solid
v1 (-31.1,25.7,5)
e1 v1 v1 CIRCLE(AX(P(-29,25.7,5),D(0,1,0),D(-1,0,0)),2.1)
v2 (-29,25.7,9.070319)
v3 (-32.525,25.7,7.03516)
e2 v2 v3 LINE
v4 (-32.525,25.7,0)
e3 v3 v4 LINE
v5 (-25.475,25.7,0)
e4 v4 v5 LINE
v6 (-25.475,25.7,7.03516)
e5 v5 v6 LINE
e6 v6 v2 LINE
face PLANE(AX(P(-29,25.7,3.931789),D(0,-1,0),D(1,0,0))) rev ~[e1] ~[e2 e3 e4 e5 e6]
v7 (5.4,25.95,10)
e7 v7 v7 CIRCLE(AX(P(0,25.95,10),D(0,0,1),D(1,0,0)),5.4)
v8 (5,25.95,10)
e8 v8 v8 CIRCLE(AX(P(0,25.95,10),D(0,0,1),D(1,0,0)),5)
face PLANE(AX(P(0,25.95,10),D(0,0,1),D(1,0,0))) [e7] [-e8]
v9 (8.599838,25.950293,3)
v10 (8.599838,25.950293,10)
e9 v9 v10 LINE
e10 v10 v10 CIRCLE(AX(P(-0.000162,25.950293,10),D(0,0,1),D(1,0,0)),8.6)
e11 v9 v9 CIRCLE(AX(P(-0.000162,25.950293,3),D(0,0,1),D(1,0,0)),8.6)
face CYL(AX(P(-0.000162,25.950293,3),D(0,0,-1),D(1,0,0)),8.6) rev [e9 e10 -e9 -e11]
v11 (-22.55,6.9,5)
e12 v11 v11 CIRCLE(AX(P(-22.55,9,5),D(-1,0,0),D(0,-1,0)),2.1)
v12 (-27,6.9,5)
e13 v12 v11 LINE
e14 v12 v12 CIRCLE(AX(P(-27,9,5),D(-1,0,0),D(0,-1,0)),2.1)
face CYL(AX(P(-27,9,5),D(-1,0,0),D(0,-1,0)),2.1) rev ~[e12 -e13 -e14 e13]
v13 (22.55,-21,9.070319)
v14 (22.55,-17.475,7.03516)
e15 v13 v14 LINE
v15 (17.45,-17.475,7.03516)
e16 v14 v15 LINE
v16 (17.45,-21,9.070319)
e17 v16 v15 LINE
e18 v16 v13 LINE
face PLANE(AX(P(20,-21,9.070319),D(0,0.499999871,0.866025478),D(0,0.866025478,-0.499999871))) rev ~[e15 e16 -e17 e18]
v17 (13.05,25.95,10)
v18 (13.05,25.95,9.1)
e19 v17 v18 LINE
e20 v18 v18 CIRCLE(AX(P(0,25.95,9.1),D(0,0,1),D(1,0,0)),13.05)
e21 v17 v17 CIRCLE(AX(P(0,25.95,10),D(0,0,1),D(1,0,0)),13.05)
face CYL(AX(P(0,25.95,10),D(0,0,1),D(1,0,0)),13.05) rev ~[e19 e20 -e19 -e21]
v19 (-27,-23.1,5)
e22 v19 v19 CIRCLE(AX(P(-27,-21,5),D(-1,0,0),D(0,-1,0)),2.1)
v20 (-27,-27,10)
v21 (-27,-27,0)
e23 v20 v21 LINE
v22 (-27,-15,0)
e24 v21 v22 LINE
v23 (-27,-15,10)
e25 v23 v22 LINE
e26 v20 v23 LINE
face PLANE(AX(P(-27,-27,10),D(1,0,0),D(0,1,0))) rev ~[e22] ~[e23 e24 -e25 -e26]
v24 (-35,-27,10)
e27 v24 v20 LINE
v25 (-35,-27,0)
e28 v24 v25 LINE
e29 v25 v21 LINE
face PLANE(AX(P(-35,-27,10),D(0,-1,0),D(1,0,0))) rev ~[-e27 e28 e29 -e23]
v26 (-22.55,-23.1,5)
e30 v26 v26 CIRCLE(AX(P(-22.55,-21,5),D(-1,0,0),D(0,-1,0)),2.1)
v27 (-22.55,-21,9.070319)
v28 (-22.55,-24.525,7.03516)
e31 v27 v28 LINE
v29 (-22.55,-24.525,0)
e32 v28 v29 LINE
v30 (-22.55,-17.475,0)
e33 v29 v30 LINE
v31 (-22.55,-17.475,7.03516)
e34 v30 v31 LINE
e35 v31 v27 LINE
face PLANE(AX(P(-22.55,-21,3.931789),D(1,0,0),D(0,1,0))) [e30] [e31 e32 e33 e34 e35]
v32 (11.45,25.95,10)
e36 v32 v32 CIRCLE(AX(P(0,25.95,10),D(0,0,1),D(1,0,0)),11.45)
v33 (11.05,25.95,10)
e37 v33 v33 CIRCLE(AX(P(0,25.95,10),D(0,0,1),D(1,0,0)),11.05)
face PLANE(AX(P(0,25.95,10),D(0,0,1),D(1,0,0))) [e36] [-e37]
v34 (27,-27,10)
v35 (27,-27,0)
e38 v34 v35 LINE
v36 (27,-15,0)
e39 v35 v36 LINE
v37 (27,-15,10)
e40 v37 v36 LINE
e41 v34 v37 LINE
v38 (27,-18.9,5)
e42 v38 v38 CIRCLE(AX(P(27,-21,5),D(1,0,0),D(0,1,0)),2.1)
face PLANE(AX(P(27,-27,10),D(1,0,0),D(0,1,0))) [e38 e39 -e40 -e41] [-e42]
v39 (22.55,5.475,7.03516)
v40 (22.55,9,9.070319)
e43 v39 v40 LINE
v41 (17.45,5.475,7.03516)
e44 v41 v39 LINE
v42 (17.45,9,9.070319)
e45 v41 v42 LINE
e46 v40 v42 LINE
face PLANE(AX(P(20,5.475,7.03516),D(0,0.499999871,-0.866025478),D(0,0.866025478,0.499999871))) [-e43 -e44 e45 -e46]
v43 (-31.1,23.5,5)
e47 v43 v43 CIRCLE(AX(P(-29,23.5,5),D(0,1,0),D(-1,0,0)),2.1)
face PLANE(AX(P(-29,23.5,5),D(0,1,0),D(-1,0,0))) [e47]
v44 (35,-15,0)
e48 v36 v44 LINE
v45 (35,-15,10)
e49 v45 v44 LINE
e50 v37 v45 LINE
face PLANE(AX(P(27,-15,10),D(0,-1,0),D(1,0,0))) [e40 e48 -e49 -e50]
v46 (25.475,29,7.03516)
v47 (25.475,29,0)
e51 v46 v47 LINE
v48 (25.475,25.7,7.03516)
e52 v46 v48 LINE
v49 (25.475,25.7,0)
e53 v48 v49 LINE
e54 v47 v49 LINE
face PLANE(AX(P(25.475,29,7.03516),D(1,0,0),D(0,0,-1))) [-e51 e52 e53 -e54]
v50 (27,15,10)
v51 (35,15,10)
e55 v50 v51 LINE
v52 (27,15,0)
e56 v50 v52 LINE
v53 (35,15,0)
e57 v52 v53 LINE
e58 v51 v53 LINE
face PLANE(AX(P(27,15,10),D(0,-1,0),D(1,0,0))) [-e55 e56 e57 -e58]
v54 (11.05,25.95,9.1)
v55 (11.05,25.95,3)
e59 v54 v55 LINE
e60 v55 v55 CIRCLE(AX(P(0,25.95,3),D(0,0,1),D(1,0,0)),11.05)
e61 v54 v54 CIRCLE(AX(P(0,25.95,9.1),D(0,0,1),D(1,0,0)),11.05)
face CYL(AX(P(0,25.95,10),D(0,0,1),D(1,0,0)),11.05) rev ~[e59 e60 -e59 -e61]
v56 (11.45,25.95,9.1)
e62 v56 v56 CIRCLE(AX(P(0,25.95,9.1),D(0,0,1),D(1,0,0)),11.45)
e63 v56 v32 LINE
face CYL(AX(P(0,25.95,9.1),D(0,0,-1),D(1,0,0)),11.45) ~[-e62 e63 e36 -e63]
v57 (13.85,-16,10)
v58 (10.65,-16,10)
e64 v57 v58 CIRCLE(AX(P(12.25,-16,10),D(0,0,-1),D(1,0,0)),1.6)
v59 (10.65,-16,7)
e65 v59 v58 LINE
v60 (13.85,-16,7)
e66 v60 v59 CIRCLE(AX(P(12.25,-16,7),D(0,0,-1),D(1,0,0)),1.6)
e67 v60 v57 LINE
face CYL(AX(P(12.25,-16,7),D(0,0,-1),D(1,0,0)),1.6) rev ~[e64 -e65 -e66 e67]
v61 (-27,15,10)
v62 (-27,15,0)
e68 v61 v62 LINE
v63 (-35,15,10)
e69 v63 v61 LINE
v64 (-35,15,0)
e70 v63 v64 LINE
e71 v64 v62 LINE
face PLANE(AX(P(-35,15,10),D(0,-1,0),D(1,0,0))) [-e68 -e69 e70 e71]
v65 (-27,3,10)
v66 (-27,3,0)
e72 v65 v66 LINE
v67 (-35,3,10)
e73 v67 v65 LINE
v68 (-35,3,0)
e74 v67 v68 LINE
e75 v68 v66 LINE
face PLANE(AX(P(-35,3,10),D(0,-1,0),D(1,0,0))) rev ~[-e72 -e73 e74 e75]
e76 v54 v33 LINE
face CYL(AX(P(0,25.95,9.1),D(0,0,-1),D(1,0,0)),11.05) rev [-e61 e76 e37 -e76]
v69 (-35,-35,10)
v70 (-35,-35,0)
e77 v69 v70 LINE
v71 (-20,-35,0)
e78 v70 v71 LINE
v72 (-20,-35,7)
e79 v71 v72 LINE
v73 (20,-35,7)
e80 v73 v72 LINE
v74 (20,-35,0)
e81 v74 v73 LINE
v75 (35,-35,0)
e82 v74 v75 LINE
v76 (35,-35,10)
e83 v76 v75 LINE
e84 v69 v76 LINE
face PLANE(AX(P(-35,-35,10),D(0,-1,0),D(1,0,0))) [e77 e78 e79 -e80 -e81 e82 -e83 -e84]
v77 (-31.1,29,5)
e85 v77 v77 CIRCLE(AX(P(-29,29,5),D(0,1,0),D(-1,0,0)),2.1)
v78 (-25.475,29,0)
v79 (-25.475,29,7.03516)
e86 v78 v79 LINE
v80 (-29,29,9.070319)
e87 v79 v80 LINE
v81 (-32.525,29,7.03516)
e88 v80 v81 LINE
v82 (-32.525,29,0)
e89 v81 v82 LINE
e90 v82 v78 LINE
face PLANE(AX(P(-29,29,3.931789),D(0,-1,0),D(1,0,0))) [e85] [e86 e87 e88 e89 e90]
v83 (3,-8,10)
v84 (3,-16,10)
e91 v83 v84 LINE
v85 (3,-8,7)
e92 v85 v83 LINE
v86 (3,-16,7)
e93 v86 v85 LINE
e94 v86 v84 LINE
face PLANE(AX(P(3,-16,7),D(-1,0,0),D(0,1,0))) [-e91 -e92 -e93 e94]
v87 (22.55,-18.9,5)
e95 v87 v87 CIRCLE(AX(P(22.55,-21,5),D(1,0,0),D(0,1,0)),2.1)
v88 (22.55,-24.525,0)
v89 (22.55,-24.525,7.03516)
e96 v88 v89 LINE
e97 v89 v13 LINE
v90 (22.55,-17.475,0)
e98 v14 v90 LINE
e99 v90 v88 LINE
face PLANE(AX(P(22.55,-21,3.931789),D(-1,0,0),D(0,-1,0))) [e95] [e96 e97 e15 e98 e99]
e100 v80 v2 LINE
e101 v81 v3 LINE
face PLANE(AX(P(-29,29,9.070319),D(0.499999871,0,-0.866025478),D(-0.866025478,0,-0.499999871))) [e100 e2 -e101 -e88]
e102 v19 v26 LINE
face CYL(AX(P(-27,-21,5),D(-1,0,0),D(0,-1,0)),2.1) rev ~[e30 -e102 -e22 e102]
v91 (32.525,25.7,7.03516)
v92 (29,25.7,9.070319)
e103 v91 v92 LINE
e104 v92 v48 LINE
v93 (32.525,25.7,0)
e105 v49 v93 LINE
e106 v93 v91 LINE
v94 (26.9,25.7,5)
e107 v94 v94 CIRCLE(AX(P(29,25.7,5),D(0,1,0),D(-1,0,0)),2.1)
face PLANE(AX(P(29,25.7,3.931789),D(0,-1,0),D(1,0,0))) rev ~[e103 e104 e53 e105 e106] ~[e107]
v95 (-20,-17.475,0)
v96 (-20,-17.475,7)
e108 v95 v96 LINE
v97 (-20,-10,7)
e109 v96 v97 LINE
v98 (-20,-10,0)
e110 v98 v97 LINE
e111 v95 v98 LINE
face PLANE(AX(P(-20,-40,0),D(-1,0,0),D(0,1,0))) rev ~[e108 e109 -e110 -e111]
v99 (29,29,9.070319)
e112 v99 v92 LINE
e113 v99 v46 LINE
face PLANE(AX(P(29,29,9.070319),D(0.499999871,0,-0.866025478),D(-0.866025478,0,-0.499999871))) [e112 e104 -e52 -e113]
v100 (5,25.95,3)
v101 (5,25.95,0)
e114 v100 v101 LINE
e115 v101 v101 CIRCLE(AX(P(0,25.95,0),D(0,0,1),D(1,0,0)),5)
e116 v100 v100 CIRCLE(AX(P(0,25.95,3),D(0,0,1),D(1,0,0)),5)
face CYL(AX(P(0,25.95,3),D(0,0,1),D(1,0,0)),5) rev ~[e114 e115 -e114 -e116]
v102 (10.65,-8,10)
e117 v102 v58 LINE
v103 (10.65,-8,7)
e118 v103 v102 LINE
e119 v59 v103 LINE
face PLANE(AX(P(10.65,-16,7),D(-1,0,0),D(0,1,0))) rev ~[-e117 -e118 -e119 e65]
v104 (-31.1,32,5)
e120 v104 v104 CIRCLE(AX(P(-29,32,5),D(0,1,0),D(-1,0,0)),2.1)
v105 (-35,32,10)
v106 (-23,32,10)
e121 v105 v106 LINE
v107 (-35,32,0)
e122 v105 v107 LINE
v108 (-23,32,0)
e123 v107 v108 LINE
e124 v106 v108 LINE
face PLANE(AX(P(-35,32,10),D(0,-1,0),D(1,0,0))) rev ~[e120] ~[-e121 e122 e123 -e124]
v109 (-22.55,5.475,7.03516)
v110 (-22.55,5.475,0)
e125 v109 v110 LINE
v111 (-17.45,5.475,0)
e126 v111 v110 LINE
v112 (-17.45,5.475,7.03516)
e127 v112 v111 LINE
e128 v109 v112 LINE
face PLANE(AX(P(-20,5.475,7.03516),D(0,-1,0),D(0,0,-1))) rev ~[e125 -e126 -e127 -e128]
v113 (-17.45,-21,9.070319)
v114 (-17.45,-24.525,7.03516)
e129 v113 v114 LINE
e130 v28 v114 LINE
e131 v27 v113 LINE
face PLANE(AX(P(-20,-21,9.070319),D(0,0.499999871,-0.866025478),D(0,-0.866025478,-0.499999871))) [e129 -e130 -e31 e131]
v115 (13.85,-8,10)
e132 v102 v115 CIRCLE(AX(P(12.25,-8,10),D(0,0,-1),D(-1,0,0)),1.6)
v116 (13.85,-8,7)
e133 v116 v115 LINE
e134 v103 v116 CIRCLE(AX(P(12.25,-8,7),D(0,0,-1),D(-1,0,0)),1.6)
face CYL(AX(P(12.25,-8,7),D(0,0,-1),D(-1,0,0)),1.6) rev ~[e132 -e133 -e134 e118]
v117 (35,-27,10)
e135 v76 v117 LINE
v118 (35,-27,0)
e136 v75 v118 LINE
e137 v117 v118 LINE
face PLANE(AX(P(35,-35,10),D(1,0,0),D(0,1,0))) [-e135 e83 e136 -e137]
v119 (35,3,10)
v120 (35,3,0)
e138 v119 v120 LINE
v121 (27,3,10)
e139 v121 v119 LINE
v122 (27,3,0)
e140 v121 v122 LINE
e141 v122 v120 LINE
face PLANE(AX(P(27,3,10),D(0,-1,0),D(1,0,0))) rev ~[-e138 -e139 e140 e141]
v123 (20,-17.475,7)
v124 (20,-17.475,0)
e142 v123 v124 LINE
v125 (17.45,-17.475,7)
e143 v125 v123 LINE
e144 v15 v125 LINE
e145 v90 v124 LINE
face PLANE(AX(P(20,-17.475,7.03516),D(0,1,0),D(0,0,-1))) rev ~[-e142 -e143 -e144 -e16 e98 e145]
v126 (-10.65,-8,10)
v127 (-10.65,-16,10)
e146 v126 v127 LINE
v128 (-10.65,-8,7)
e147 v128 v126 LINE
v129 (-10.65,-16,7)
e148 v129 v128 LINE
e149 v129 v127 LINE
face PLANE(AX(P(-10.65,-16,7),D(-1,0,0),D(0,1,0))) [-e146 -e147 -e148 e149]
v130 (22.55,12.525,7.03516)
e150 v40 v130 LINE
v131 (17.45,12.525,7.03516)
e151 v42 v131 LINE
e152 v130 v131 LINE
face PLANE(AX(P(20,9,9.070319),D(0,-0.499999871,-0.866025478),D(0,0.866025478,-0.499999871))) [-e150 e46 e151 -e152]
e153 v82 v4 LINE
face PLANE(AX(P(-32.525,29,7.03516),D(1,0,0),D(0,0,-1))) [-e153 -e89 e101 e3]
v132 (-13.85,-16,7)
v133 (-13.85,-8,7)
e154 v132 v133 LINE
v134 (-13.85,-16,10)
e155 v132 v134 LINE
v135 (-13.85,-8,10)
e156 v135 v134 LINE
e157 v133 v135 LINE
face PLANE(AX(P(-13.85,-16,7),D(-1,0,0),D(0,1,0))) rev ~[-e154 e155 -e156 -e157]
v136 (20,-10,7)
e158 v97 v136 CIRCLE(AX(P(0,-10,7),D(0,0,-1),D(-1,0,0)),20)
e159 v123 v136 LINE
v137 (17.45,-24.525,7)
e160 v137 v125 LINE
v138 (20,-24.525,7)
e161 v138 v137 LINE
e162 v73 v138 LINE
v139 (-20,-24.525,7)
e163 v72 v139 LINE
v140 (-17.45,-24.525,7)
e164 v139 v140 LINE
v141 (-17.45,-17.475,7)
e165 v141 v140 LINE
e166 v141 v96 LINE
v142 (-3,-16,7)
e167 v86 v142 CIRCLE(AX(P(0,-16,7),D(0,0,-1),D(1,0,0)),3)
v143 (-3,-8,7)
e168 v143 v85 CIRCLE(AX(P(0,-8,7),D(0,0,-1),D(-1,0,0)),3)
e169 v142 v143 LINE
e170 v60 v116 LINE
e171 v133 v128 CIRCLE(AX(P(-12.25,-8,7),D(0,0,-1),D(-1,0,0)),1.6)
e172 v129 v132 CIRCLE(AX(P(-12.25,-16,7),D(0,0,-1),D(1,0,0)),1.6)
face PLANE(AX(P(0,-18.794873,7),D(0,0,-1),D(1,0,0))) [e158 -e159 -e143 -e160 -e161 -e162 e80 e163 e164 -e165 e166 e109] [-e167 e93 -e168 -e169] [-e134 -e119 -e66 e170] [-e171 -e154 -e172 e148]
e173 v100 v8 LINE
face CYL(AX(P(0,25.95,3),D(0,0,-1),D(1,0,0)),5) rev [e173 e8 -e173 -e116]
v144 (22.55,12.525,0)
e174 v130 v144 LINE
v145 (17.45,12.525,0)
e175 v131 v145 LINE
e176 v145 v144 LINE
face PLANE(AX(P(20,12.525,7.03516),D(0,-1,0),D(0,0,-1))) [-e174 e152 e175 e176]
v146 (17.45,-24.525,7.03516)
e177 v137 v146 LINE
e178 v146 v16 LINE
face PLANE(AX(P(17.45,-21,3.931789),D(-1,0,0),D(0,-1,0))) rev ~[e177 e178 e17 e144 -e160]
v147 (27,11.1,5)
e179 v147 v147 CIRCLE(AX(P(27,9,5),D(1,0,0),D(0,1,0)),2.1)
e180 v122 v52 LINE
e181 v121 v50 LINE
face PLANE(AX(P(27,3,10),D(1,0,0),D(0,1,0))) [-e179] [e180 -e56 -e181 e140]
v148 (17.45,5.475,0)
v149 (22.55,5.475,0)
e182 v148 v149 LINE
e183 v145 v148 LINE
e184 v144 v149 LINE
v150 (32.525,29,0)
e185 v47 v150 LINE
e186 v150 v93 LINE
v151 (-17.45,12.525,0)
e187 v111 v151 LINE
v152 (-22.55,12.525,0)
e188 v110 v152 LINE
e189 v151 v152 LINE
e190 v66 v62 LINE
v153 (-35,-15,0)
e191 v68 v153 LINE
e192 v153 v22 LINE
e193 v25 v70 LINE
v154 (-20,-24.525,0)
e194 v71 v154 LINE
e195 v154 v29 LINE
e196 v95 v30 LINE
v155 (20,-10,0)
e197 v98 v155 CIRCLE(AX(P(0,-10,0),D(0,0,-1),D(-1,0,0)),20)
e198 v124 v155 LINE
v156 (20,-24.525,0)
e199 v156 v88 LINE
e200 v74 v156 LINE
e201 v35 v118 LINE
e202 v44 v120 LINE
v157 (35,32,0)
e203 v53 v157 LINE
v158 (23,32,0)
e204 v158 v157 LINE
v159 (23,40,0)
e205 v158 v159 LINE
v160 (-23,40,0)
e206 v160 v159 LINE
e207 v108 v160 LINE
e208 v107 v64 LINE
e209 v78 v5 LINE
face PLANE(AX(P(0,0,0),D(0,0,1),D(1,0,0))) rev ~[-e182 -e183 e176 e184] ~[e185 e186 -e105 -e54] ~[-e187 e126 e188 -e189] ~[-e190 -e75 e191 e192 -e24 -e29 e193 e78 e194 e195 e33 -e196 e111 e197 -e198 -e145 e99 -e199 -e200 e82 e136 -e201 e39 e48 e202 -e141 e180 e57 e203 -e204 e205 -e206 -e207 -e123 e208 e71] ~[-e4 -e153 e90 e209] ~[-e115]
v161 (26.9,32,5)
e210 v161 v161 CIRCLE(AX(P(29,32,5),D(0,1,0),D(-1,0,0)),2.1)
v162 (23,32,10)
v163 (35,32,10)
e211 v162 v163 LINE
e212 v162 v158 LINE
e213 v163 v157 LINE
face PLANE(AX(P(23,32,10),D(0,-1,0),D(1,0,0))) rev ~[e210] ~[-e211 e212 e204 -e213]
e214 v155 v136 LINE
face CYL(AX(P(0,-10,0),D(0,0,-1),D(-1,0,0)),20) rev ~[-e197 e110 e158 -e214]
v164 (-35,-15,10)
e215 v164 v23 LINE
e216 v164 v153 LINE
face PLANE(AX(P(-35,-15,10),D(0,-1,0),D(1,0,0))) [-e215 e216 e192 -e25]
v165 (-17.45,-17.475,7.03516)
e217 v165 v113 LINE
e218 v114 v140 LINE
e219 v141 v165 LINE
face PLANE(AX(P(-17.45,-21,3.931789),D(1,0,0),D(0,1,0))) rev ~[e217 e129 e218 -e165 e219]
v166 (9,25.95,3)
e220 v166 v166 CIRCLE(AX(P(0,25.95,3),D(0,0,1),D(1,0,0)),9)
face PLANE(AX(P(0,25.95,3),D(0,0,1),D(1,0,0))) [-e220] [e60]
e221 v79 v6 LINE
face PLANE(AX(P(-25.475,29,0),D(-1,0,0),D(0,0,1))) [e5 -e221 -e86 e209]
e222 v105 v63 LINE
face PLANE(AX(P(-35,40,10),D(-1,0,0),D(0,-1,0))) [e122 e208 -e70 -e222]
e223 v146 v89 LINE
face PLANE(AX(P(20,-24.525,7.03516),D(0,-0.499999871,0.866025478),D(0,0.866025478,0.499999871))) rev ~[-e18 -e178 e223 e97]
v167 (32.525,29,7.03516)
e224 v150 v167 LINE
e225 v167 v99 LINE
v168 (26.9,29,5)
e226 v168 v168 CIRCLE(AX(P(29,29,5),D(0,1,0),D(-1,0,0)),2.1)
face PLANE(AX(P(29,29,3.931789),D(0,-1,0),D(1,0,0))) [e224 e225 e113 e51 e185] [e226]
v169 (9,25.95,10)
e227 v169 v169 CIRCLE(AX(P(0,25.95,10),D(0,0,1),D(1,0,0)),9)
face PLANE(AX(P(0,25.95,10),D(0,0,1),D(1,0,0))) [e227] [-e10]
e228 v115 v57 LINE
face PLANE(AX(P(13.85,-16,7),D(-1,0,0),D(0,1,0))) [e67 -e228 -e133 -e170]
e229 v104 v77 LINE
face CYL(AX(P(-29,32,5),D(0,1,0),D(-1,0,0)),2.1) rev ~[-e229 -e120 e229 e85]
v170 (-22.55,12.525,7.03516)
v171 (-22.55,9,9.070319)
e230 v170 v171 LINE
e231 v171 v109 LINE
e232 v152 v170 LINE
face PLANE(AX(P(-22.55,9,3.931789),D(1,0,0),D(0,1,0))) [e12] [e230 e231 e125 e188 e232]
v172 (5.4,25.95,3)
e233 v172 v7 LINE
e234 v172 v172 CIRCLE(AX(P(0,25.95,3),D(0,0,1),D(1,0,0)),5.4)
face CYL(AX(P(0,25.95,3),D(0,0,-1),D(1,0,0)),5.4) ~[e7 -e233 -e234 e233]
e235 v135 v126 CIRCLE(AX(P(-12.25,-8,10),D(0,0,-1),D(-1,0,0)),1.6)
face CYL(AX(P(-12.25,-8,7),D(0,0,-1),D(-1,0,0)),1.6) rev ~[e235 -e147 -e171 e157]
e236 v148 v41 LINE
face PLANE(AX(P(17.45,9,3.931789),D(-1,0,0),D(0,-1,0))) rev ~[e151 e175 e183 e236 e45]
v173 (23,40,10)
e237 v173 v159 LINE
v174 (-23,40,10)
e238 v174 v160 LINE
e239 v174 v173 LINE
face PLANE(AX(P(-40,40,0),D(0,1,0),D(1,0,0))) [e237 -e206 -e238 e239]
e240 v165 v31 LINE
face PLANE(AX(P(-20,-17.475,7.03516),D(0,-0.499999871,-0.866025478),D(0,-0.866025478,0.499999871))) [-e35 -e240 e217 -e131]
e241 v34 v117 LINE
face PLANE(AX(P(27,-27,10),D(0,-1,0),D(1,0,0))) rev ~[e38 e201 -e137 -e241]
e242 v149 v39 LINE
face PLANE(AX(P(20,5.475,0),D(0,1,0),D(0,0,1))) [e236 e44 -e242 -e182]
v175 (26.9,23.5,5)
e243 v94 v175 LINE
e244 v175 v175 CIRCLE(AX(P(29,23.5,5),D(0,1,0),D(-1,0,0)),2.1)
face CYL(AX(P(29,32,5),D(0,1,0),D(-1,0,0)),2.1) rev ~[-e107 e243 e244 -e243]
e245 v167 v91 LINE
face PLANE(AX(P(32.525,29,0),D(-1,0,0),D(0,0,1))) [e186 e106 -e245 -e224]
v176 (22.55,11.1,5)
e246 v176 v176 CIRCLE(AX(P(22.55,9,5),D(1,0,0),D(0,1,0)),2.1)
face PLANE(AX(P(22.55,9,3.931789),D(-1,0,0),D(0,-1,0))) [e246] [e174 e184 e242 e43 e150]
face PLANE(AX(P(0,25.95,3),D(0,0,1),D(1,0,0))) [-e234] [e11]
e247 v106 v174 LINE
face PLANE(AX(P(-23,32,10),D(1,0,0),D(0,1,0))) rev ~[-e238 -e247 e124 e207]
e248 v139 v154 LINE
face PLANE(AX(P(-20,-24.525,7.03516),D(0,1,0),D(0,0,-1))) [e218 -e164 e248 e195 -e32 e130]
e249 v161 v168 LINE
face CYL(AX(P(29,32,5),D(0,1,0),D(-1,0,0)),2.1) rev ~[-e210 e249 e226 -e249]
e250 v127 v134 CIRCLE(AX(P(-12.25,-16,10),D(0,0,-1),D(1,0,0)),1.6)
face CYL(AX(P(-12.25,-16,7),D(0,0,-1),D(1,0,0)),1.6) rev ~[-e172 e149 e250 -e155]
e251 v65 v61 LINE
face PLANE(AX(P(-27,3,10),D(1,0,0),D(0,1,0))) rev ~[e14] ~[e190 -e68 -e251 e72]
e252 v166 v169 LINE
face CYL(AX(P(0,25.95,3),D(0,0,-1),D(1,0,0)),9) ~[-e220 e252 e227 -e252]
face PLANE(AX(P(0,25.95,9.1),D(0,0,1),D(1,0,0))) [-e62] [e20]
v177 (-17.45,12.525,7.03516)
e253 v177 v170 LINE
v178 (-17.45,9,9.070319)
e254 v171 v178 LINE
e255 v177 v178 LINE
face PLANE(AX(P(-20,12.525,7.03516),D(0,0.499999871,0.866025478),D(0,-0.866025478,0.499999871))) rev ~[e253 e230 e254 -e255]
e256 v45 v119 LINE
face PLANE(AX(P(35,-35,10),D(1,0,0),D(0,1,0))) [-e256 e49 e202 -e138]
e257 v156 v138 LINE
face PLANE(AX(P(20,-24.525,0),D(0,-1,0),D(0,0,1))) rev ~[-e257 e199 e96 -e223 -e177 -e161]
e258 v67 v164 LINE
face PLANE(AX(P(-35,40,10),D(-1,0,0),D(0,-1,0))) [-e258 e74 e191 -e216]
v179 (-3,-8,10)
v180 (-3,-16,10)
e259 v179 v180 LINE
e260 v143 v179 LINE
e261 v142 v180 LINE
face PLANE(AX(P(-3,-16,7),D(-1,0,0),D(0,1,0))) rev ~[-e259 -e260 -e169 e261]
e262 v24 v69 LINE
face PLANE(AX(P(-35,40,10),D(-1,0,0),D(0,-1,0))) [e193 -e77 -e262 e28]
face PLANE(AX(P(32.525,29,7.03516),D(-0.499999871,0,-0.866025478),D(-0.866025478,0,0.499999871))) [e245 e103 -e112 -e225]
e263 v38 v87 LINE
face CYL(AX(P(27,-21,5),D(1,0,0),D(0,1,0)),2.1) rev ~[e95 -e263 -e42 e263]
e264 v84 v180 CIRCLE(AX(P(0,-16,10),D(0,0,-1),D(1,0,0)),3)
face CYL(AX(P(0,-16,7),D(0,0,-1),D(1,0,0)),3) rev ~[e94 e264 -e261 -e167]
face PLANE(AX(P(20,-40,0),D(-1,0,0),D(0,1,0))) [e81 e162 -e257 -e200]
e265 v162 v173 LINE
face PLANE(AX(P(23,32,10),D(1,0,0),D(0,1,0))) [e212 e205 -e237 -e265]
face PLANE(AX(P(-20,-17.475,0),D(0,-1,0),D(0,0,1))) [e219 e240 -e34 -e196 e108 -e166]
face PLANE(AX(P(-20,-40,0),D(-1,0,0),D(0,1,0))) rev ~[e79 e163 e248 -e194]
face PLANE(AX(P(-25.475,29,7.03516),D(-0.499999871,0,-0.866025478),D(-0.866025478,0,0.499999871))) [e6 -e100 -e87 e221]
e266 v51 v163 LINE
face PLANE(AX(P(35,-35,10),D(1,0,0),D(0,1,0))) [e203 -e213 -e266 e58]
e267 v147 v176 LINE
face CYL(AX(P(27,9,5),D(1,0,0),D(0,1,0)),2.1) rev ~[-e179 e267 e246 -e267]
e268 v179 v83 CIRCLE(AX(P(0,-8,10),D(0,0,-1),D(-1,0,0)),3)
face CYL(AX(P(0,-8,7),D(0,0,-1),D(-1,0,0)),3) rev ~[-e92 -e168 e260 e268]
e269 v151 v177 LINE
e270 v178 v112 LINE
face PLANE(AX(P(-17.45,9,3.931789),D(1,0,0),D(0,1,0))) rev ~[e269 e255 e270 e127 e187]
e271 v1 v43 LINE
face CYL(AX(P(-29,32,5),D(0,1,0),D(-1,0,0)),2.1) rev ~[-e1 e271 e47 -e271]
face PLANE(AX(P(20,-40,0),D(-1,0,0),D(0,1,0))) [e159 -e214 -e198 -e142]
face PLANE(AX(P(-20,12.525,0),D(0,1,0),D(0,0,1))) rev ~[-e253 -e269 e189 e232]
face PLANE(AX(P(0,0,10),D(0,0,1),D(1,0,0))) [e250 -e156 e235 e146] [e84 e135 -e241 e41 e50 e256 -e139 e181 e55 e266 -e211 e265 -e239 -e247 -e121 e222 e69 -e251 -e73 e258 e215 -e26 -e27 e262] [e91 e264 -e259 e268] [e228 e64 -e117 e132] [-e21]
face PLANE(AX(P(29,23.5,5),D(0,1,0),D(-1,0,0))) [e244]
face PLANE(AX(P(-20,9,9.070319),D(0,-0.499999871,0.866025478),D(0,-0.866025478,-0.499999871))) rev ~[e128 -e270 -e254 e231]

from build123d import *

# Parameters (mm, degrees)
PAD001_DEPTH    = 3.3
SKETCH_W        = 80
SKETCH_H        = 80
PAD_DEPTH       = 10
SKETCH001_R     = 11.05
POCKET_DEPTH    = 7
SKETCH002_R     = 5
POCKET001_DEPTH = 3.001
SKETCH003_R     = 13.05
POCKET002_DEPTH = 0.9
POCKET003_DEPTH = 7
POCKET004_DEPTH = 3.001
POCKET005_DEPTH = 10.001
SKETCH009_W     = 8
SKETCH009_H     = 12
SKETCH009_W_2   = 12
SKETCH009_H_2   = 8
POCKET008_DEPTH = 10.001
SKETCH010_R     = 2.1
POCKET009_DEPTH = 9
SKETCH011_R     = 2.1
POCKET010_DEPTH = 9
SKETCH012_R     = 2.1
POCKET011_DEPTH = 8.5
POCKET012_DEPTH = 2.55
POCKET013_DEPTH = 2.55
SKETCH017_R     = 5.4
SKETCH017_R_2   = 5
PAD002_DEPTH    = 7
SKETCH018_R     = 11.45
SKETCH018_R_2   = 11.05
PAD003_DEPTH    = 0.9
SKETCH019_R     = 9
SKETCH019_R_2   = 8.6
PAD004_DEPTH    = 7


with BuildPart() as pad001:
    # Sketch016 → Pad001 (new body)
    with BuildSketch(Plane.XZ.offset(-29)):
        Polygon((-25.475, 7.03516), (-29, 9.070319), (-32.525, 7.03516), (-32.525, 2.96484), (-32.525, 0), (-25.475, 0), align=None)
        Polygon((32.525, 7.03516), (29, 9.070319), (25.475, 7.03516), (25.475, 2.96484), (25.475, 0), (32.525, 0), align=None)
    extrude(amount=PAD001_DEPTH)


with BuildPart() as halter_fraesspindel_top_druckbar:
    # Sketch → Pad (new body)
    with BuildSketch(Plane.XY):
        Rectangle(SKETCH_W, SKETCH_H)
    extrude(amount=PAD_DEPTH)

    # Sketch001 → Pocket (cut)
    with BuildSketch(Plane.XY.offset(10)):
        with Locations((0, 25.95)):
            Circle(SKETCH001_R)
    extrude(amount=-POCKET_DEPTH, mode=Mode.SUBTRACT)

    # Sketch002 → Pocket001 (cut, through all)
    with BuildSketch(Plane.XY.offset(3)):
        with Locations((0, 25.95)):
            Circle(SKETCH002_R)
    extrude(amount=-POCKET001_DEPTH, mode=Mode.SUBTRACT)

    # Sketch003 → Pocket002 (cut)
    with BuildSketch(Plane.XY.offset(10)):
        with Locations((0, 25.95)):
            Circle(SKETCH003_R)
    extrude(amount=-POCKET002_DEPTH, mode=Mode.SUBTRACT)

    # Sketch004 → Pocket003 (cut)
    with BuildSketch(Plane(origin=(0, 0, 0), x_dir=(1, 0, 0), z_dir=(0, 0, -1))):
        with BuildLine():
            ThreePointArc((-20, 10), (0, -10), (20, 10))
            Line((20, 40), (20, 10))
            Line((20, 40), (-20, 40))
            Line((-20, 40), (-20, 10))
        make_face()
    extrude(amount=-POCKET003_DEPTH, mode=Mode.SUBTRACT)

    # Sketch005 → Pocket004 (cut, through all)
    with BuildSketch(Plane(origin=(0, 0, 7), x_dir=(1, 0, 0), z_dir=(0, 0, -1))):
        with BuildLine():
            ThreePointArc((3, 16), (0, 19), (-3, 16))
            Line((-3, 16), (-3, 8))
            ThreePointArc((-3, 8), (0, 5), (3, 8))
            Line((3, 16), (3, 8))
        make_face()
        with BuildLine():
            ThreePointArc((13.85, 16), (12.25, 17.6), (10.65, 16))
            Line((10.65, 16), (10.65, 8))
            ThreePointArc((10.65, 8), (12.25, 6.4), (13.85, 8))
            Line((13.85, 16), (13.85, 8))
        make_face()
        with BuildLine():
            ThreePointArc((-10.65, 16), (-12.25, 17.6), (-13.85, 16))
            Line((-13.85, 16), (-13.85, 8))
            ThreePointArc((-13.85, 8), (-12.25, 6.4), (-10.65, 8))
            Line((-10.65, 16), (-10.65, 8))
        make_face()
    extrude(amount=-POCKET004_DEPTH, mode=Mode.SUBTRACT)

    # Sketch006 → Pocket005 (cut, through all)
    with BuildSketch(Plane.XY.offset(10)):
        Polygon((-40, 40), (-35, 40), (-35, -35), (35, -35), (35, 40), (40, 40), (40, -40), (35, -40), (-35, -40), (-40, -40), align=None)
    extrude(amount=-POCKET005_DEPTH, mode=Mode.SUBTRACT)

    # Sketch009 → Pocket008 (cut, through all)
    with BuildSketch(Plane.XY.offset(10)):
        with Locations((-31, 9)):
            Rectangle(SKETCH009_W, SKETCH009_H)
        with Locations((31, 9)):
            Rectangle(SKETCH009_W, SKETCH009_H)
        with Locations((-31, -21)):
            Rectangle(SKETCH009_W, SKETCH009_H)
        with Locations((31, -21)):
            Rectangle(SKETCH009_W, SKETCH009_H)
        with Locations((-29, 36)):
            Rectangle(SKETCH009_W_2, SKETCH009_H_2)
        with Locations((29, 36)):
            Rectangle(SKETCH009_W_2, SKETCH009_H_2)
    extrude(amount=-POCKET008_DEPTH, mode=Mode.SUBTRACT)

    # Sketch010 → Pocket009 (cut)
    with BuildSketch(Plane(origin=(-27, 0, 0), x_dir=(0, -1, 0), z_dir=(-1, 0, 0))):
        with Locations((-9, 5)):
            Circle(SKETCH010_R)
        with Locations((21, 5)):
            Circle(SKETCH010_R)
    extrude(amount=-POCKET009_DEPTH, mode=Mode.SUBTRACT)

    # Sketch011 → Pocket010 (cut)
    with BuildSketch(Plane.YZ.offset(27)):
        with Locations((-21, 5)):
            Circle(SKETCH011_R)
        with Locations((9, 5)):
            Circle(SKETCH011_R)
    extrude(amount=-POCKET010_DEPTH, mode=Mode.SUBTRACT)

    # Sketch012 → Pocket011 (cut)
    with BuildSketch(Plane(origin=(0, 32, 0), x_dir=(-1, 0, 0), z_dir=(0, 1, 0))):
        with Locations((-29, 5)):
            Circle(SKETCH012_R)
        with Locations((29, 5)):
            Circle(SKETCH012_R)
    extrude(amount=-POCKET011_DEPTH, mode=Mode.SUBTRACT)

    # Sketch013 → Pocket012 (cut, symmetric)
    with BuildSketch(Plane(origin=(20, 0, 0), x_dir=(0, -1, 0), z_dir=(-1, 0, 0))):
        Polygon((-5.475, 7.03516), (-9, 9.070319), (-12.525, 7.03516), (-12.525, 2.96484), (-12.525, 0), (-5.475, 0), align=None)
        Polygon((21, 9.070319), (17.475, 7.03516), (17.475, 2.96484), (17.475, 0), (24.525, 0), (24.525, 2.96484), (24.525, 7.03516), align=None)
    extrude(amount=POCKET012_DEPTH, both=True, mode=Mode.SUBTRACT)

    # Sketch014 → Pocket013 (cut, symmetric)
    with BuildSketch(Plane.YZ.offset(-20)):
        Polygon((-17.475, 7.03516), (-21, 9.070319), (-24.525, 7.03516), (-24.525, 2.96484), (-24.525, 0), (-17.475, 0), align=None)
        Polygon((12.525, 7.03516), (9, 9.070319), (5.475, 7.03516), (5.475, 2.96484), (5.475, 0), (12.525, 0), align=None)
    extrude(amount=POCKET013_DEPTH, both=True, mode=Mode.SUBTRACT)

    # Cut: cut Pad001
    add(pad001.part, mode=Mode.SUBTRACT)

    # Sketch017 → Pad002 (new body)
    with BuildSketch(Plane.XY.offset(3)):
        with Locations((0, 25.95)):
            Circle(SKETCH017_R)
        with Locations((0, 25.95)):
            Circle(SKETCH017_R_2, mode=Mode.SUBTRACT)
    extrude(amount=PAD002_DEPTH)

    # Sketch018 → Pad003 (new body)
    with BuildSketch(Plane.XY.offset(9.1)):
        with Locations((0, 25.95)):
            Circle(SKETCH018_R)
        with Locations((0, 25.95)):
            Circle(SKETCH018_R_2, mode=Mode.SUBTRACT)
    extrude(amount=PAD003_DEPTH)

    # Sketch019 → Pad004 (new body)
    with BuildSketch(Plane.XY.offset(3)):
        with Locations((0, 25.95)):
            Circle(SKETCH019_R)
        with Locations((-0.000162, 25.950293)):
            Circle(SKETCH019_R_2, mode=Mode.SUBTRACT)
    extrude(amount=PAD004_DEPTH)


solid = halter_fraesspindel_top_druckbar.part
